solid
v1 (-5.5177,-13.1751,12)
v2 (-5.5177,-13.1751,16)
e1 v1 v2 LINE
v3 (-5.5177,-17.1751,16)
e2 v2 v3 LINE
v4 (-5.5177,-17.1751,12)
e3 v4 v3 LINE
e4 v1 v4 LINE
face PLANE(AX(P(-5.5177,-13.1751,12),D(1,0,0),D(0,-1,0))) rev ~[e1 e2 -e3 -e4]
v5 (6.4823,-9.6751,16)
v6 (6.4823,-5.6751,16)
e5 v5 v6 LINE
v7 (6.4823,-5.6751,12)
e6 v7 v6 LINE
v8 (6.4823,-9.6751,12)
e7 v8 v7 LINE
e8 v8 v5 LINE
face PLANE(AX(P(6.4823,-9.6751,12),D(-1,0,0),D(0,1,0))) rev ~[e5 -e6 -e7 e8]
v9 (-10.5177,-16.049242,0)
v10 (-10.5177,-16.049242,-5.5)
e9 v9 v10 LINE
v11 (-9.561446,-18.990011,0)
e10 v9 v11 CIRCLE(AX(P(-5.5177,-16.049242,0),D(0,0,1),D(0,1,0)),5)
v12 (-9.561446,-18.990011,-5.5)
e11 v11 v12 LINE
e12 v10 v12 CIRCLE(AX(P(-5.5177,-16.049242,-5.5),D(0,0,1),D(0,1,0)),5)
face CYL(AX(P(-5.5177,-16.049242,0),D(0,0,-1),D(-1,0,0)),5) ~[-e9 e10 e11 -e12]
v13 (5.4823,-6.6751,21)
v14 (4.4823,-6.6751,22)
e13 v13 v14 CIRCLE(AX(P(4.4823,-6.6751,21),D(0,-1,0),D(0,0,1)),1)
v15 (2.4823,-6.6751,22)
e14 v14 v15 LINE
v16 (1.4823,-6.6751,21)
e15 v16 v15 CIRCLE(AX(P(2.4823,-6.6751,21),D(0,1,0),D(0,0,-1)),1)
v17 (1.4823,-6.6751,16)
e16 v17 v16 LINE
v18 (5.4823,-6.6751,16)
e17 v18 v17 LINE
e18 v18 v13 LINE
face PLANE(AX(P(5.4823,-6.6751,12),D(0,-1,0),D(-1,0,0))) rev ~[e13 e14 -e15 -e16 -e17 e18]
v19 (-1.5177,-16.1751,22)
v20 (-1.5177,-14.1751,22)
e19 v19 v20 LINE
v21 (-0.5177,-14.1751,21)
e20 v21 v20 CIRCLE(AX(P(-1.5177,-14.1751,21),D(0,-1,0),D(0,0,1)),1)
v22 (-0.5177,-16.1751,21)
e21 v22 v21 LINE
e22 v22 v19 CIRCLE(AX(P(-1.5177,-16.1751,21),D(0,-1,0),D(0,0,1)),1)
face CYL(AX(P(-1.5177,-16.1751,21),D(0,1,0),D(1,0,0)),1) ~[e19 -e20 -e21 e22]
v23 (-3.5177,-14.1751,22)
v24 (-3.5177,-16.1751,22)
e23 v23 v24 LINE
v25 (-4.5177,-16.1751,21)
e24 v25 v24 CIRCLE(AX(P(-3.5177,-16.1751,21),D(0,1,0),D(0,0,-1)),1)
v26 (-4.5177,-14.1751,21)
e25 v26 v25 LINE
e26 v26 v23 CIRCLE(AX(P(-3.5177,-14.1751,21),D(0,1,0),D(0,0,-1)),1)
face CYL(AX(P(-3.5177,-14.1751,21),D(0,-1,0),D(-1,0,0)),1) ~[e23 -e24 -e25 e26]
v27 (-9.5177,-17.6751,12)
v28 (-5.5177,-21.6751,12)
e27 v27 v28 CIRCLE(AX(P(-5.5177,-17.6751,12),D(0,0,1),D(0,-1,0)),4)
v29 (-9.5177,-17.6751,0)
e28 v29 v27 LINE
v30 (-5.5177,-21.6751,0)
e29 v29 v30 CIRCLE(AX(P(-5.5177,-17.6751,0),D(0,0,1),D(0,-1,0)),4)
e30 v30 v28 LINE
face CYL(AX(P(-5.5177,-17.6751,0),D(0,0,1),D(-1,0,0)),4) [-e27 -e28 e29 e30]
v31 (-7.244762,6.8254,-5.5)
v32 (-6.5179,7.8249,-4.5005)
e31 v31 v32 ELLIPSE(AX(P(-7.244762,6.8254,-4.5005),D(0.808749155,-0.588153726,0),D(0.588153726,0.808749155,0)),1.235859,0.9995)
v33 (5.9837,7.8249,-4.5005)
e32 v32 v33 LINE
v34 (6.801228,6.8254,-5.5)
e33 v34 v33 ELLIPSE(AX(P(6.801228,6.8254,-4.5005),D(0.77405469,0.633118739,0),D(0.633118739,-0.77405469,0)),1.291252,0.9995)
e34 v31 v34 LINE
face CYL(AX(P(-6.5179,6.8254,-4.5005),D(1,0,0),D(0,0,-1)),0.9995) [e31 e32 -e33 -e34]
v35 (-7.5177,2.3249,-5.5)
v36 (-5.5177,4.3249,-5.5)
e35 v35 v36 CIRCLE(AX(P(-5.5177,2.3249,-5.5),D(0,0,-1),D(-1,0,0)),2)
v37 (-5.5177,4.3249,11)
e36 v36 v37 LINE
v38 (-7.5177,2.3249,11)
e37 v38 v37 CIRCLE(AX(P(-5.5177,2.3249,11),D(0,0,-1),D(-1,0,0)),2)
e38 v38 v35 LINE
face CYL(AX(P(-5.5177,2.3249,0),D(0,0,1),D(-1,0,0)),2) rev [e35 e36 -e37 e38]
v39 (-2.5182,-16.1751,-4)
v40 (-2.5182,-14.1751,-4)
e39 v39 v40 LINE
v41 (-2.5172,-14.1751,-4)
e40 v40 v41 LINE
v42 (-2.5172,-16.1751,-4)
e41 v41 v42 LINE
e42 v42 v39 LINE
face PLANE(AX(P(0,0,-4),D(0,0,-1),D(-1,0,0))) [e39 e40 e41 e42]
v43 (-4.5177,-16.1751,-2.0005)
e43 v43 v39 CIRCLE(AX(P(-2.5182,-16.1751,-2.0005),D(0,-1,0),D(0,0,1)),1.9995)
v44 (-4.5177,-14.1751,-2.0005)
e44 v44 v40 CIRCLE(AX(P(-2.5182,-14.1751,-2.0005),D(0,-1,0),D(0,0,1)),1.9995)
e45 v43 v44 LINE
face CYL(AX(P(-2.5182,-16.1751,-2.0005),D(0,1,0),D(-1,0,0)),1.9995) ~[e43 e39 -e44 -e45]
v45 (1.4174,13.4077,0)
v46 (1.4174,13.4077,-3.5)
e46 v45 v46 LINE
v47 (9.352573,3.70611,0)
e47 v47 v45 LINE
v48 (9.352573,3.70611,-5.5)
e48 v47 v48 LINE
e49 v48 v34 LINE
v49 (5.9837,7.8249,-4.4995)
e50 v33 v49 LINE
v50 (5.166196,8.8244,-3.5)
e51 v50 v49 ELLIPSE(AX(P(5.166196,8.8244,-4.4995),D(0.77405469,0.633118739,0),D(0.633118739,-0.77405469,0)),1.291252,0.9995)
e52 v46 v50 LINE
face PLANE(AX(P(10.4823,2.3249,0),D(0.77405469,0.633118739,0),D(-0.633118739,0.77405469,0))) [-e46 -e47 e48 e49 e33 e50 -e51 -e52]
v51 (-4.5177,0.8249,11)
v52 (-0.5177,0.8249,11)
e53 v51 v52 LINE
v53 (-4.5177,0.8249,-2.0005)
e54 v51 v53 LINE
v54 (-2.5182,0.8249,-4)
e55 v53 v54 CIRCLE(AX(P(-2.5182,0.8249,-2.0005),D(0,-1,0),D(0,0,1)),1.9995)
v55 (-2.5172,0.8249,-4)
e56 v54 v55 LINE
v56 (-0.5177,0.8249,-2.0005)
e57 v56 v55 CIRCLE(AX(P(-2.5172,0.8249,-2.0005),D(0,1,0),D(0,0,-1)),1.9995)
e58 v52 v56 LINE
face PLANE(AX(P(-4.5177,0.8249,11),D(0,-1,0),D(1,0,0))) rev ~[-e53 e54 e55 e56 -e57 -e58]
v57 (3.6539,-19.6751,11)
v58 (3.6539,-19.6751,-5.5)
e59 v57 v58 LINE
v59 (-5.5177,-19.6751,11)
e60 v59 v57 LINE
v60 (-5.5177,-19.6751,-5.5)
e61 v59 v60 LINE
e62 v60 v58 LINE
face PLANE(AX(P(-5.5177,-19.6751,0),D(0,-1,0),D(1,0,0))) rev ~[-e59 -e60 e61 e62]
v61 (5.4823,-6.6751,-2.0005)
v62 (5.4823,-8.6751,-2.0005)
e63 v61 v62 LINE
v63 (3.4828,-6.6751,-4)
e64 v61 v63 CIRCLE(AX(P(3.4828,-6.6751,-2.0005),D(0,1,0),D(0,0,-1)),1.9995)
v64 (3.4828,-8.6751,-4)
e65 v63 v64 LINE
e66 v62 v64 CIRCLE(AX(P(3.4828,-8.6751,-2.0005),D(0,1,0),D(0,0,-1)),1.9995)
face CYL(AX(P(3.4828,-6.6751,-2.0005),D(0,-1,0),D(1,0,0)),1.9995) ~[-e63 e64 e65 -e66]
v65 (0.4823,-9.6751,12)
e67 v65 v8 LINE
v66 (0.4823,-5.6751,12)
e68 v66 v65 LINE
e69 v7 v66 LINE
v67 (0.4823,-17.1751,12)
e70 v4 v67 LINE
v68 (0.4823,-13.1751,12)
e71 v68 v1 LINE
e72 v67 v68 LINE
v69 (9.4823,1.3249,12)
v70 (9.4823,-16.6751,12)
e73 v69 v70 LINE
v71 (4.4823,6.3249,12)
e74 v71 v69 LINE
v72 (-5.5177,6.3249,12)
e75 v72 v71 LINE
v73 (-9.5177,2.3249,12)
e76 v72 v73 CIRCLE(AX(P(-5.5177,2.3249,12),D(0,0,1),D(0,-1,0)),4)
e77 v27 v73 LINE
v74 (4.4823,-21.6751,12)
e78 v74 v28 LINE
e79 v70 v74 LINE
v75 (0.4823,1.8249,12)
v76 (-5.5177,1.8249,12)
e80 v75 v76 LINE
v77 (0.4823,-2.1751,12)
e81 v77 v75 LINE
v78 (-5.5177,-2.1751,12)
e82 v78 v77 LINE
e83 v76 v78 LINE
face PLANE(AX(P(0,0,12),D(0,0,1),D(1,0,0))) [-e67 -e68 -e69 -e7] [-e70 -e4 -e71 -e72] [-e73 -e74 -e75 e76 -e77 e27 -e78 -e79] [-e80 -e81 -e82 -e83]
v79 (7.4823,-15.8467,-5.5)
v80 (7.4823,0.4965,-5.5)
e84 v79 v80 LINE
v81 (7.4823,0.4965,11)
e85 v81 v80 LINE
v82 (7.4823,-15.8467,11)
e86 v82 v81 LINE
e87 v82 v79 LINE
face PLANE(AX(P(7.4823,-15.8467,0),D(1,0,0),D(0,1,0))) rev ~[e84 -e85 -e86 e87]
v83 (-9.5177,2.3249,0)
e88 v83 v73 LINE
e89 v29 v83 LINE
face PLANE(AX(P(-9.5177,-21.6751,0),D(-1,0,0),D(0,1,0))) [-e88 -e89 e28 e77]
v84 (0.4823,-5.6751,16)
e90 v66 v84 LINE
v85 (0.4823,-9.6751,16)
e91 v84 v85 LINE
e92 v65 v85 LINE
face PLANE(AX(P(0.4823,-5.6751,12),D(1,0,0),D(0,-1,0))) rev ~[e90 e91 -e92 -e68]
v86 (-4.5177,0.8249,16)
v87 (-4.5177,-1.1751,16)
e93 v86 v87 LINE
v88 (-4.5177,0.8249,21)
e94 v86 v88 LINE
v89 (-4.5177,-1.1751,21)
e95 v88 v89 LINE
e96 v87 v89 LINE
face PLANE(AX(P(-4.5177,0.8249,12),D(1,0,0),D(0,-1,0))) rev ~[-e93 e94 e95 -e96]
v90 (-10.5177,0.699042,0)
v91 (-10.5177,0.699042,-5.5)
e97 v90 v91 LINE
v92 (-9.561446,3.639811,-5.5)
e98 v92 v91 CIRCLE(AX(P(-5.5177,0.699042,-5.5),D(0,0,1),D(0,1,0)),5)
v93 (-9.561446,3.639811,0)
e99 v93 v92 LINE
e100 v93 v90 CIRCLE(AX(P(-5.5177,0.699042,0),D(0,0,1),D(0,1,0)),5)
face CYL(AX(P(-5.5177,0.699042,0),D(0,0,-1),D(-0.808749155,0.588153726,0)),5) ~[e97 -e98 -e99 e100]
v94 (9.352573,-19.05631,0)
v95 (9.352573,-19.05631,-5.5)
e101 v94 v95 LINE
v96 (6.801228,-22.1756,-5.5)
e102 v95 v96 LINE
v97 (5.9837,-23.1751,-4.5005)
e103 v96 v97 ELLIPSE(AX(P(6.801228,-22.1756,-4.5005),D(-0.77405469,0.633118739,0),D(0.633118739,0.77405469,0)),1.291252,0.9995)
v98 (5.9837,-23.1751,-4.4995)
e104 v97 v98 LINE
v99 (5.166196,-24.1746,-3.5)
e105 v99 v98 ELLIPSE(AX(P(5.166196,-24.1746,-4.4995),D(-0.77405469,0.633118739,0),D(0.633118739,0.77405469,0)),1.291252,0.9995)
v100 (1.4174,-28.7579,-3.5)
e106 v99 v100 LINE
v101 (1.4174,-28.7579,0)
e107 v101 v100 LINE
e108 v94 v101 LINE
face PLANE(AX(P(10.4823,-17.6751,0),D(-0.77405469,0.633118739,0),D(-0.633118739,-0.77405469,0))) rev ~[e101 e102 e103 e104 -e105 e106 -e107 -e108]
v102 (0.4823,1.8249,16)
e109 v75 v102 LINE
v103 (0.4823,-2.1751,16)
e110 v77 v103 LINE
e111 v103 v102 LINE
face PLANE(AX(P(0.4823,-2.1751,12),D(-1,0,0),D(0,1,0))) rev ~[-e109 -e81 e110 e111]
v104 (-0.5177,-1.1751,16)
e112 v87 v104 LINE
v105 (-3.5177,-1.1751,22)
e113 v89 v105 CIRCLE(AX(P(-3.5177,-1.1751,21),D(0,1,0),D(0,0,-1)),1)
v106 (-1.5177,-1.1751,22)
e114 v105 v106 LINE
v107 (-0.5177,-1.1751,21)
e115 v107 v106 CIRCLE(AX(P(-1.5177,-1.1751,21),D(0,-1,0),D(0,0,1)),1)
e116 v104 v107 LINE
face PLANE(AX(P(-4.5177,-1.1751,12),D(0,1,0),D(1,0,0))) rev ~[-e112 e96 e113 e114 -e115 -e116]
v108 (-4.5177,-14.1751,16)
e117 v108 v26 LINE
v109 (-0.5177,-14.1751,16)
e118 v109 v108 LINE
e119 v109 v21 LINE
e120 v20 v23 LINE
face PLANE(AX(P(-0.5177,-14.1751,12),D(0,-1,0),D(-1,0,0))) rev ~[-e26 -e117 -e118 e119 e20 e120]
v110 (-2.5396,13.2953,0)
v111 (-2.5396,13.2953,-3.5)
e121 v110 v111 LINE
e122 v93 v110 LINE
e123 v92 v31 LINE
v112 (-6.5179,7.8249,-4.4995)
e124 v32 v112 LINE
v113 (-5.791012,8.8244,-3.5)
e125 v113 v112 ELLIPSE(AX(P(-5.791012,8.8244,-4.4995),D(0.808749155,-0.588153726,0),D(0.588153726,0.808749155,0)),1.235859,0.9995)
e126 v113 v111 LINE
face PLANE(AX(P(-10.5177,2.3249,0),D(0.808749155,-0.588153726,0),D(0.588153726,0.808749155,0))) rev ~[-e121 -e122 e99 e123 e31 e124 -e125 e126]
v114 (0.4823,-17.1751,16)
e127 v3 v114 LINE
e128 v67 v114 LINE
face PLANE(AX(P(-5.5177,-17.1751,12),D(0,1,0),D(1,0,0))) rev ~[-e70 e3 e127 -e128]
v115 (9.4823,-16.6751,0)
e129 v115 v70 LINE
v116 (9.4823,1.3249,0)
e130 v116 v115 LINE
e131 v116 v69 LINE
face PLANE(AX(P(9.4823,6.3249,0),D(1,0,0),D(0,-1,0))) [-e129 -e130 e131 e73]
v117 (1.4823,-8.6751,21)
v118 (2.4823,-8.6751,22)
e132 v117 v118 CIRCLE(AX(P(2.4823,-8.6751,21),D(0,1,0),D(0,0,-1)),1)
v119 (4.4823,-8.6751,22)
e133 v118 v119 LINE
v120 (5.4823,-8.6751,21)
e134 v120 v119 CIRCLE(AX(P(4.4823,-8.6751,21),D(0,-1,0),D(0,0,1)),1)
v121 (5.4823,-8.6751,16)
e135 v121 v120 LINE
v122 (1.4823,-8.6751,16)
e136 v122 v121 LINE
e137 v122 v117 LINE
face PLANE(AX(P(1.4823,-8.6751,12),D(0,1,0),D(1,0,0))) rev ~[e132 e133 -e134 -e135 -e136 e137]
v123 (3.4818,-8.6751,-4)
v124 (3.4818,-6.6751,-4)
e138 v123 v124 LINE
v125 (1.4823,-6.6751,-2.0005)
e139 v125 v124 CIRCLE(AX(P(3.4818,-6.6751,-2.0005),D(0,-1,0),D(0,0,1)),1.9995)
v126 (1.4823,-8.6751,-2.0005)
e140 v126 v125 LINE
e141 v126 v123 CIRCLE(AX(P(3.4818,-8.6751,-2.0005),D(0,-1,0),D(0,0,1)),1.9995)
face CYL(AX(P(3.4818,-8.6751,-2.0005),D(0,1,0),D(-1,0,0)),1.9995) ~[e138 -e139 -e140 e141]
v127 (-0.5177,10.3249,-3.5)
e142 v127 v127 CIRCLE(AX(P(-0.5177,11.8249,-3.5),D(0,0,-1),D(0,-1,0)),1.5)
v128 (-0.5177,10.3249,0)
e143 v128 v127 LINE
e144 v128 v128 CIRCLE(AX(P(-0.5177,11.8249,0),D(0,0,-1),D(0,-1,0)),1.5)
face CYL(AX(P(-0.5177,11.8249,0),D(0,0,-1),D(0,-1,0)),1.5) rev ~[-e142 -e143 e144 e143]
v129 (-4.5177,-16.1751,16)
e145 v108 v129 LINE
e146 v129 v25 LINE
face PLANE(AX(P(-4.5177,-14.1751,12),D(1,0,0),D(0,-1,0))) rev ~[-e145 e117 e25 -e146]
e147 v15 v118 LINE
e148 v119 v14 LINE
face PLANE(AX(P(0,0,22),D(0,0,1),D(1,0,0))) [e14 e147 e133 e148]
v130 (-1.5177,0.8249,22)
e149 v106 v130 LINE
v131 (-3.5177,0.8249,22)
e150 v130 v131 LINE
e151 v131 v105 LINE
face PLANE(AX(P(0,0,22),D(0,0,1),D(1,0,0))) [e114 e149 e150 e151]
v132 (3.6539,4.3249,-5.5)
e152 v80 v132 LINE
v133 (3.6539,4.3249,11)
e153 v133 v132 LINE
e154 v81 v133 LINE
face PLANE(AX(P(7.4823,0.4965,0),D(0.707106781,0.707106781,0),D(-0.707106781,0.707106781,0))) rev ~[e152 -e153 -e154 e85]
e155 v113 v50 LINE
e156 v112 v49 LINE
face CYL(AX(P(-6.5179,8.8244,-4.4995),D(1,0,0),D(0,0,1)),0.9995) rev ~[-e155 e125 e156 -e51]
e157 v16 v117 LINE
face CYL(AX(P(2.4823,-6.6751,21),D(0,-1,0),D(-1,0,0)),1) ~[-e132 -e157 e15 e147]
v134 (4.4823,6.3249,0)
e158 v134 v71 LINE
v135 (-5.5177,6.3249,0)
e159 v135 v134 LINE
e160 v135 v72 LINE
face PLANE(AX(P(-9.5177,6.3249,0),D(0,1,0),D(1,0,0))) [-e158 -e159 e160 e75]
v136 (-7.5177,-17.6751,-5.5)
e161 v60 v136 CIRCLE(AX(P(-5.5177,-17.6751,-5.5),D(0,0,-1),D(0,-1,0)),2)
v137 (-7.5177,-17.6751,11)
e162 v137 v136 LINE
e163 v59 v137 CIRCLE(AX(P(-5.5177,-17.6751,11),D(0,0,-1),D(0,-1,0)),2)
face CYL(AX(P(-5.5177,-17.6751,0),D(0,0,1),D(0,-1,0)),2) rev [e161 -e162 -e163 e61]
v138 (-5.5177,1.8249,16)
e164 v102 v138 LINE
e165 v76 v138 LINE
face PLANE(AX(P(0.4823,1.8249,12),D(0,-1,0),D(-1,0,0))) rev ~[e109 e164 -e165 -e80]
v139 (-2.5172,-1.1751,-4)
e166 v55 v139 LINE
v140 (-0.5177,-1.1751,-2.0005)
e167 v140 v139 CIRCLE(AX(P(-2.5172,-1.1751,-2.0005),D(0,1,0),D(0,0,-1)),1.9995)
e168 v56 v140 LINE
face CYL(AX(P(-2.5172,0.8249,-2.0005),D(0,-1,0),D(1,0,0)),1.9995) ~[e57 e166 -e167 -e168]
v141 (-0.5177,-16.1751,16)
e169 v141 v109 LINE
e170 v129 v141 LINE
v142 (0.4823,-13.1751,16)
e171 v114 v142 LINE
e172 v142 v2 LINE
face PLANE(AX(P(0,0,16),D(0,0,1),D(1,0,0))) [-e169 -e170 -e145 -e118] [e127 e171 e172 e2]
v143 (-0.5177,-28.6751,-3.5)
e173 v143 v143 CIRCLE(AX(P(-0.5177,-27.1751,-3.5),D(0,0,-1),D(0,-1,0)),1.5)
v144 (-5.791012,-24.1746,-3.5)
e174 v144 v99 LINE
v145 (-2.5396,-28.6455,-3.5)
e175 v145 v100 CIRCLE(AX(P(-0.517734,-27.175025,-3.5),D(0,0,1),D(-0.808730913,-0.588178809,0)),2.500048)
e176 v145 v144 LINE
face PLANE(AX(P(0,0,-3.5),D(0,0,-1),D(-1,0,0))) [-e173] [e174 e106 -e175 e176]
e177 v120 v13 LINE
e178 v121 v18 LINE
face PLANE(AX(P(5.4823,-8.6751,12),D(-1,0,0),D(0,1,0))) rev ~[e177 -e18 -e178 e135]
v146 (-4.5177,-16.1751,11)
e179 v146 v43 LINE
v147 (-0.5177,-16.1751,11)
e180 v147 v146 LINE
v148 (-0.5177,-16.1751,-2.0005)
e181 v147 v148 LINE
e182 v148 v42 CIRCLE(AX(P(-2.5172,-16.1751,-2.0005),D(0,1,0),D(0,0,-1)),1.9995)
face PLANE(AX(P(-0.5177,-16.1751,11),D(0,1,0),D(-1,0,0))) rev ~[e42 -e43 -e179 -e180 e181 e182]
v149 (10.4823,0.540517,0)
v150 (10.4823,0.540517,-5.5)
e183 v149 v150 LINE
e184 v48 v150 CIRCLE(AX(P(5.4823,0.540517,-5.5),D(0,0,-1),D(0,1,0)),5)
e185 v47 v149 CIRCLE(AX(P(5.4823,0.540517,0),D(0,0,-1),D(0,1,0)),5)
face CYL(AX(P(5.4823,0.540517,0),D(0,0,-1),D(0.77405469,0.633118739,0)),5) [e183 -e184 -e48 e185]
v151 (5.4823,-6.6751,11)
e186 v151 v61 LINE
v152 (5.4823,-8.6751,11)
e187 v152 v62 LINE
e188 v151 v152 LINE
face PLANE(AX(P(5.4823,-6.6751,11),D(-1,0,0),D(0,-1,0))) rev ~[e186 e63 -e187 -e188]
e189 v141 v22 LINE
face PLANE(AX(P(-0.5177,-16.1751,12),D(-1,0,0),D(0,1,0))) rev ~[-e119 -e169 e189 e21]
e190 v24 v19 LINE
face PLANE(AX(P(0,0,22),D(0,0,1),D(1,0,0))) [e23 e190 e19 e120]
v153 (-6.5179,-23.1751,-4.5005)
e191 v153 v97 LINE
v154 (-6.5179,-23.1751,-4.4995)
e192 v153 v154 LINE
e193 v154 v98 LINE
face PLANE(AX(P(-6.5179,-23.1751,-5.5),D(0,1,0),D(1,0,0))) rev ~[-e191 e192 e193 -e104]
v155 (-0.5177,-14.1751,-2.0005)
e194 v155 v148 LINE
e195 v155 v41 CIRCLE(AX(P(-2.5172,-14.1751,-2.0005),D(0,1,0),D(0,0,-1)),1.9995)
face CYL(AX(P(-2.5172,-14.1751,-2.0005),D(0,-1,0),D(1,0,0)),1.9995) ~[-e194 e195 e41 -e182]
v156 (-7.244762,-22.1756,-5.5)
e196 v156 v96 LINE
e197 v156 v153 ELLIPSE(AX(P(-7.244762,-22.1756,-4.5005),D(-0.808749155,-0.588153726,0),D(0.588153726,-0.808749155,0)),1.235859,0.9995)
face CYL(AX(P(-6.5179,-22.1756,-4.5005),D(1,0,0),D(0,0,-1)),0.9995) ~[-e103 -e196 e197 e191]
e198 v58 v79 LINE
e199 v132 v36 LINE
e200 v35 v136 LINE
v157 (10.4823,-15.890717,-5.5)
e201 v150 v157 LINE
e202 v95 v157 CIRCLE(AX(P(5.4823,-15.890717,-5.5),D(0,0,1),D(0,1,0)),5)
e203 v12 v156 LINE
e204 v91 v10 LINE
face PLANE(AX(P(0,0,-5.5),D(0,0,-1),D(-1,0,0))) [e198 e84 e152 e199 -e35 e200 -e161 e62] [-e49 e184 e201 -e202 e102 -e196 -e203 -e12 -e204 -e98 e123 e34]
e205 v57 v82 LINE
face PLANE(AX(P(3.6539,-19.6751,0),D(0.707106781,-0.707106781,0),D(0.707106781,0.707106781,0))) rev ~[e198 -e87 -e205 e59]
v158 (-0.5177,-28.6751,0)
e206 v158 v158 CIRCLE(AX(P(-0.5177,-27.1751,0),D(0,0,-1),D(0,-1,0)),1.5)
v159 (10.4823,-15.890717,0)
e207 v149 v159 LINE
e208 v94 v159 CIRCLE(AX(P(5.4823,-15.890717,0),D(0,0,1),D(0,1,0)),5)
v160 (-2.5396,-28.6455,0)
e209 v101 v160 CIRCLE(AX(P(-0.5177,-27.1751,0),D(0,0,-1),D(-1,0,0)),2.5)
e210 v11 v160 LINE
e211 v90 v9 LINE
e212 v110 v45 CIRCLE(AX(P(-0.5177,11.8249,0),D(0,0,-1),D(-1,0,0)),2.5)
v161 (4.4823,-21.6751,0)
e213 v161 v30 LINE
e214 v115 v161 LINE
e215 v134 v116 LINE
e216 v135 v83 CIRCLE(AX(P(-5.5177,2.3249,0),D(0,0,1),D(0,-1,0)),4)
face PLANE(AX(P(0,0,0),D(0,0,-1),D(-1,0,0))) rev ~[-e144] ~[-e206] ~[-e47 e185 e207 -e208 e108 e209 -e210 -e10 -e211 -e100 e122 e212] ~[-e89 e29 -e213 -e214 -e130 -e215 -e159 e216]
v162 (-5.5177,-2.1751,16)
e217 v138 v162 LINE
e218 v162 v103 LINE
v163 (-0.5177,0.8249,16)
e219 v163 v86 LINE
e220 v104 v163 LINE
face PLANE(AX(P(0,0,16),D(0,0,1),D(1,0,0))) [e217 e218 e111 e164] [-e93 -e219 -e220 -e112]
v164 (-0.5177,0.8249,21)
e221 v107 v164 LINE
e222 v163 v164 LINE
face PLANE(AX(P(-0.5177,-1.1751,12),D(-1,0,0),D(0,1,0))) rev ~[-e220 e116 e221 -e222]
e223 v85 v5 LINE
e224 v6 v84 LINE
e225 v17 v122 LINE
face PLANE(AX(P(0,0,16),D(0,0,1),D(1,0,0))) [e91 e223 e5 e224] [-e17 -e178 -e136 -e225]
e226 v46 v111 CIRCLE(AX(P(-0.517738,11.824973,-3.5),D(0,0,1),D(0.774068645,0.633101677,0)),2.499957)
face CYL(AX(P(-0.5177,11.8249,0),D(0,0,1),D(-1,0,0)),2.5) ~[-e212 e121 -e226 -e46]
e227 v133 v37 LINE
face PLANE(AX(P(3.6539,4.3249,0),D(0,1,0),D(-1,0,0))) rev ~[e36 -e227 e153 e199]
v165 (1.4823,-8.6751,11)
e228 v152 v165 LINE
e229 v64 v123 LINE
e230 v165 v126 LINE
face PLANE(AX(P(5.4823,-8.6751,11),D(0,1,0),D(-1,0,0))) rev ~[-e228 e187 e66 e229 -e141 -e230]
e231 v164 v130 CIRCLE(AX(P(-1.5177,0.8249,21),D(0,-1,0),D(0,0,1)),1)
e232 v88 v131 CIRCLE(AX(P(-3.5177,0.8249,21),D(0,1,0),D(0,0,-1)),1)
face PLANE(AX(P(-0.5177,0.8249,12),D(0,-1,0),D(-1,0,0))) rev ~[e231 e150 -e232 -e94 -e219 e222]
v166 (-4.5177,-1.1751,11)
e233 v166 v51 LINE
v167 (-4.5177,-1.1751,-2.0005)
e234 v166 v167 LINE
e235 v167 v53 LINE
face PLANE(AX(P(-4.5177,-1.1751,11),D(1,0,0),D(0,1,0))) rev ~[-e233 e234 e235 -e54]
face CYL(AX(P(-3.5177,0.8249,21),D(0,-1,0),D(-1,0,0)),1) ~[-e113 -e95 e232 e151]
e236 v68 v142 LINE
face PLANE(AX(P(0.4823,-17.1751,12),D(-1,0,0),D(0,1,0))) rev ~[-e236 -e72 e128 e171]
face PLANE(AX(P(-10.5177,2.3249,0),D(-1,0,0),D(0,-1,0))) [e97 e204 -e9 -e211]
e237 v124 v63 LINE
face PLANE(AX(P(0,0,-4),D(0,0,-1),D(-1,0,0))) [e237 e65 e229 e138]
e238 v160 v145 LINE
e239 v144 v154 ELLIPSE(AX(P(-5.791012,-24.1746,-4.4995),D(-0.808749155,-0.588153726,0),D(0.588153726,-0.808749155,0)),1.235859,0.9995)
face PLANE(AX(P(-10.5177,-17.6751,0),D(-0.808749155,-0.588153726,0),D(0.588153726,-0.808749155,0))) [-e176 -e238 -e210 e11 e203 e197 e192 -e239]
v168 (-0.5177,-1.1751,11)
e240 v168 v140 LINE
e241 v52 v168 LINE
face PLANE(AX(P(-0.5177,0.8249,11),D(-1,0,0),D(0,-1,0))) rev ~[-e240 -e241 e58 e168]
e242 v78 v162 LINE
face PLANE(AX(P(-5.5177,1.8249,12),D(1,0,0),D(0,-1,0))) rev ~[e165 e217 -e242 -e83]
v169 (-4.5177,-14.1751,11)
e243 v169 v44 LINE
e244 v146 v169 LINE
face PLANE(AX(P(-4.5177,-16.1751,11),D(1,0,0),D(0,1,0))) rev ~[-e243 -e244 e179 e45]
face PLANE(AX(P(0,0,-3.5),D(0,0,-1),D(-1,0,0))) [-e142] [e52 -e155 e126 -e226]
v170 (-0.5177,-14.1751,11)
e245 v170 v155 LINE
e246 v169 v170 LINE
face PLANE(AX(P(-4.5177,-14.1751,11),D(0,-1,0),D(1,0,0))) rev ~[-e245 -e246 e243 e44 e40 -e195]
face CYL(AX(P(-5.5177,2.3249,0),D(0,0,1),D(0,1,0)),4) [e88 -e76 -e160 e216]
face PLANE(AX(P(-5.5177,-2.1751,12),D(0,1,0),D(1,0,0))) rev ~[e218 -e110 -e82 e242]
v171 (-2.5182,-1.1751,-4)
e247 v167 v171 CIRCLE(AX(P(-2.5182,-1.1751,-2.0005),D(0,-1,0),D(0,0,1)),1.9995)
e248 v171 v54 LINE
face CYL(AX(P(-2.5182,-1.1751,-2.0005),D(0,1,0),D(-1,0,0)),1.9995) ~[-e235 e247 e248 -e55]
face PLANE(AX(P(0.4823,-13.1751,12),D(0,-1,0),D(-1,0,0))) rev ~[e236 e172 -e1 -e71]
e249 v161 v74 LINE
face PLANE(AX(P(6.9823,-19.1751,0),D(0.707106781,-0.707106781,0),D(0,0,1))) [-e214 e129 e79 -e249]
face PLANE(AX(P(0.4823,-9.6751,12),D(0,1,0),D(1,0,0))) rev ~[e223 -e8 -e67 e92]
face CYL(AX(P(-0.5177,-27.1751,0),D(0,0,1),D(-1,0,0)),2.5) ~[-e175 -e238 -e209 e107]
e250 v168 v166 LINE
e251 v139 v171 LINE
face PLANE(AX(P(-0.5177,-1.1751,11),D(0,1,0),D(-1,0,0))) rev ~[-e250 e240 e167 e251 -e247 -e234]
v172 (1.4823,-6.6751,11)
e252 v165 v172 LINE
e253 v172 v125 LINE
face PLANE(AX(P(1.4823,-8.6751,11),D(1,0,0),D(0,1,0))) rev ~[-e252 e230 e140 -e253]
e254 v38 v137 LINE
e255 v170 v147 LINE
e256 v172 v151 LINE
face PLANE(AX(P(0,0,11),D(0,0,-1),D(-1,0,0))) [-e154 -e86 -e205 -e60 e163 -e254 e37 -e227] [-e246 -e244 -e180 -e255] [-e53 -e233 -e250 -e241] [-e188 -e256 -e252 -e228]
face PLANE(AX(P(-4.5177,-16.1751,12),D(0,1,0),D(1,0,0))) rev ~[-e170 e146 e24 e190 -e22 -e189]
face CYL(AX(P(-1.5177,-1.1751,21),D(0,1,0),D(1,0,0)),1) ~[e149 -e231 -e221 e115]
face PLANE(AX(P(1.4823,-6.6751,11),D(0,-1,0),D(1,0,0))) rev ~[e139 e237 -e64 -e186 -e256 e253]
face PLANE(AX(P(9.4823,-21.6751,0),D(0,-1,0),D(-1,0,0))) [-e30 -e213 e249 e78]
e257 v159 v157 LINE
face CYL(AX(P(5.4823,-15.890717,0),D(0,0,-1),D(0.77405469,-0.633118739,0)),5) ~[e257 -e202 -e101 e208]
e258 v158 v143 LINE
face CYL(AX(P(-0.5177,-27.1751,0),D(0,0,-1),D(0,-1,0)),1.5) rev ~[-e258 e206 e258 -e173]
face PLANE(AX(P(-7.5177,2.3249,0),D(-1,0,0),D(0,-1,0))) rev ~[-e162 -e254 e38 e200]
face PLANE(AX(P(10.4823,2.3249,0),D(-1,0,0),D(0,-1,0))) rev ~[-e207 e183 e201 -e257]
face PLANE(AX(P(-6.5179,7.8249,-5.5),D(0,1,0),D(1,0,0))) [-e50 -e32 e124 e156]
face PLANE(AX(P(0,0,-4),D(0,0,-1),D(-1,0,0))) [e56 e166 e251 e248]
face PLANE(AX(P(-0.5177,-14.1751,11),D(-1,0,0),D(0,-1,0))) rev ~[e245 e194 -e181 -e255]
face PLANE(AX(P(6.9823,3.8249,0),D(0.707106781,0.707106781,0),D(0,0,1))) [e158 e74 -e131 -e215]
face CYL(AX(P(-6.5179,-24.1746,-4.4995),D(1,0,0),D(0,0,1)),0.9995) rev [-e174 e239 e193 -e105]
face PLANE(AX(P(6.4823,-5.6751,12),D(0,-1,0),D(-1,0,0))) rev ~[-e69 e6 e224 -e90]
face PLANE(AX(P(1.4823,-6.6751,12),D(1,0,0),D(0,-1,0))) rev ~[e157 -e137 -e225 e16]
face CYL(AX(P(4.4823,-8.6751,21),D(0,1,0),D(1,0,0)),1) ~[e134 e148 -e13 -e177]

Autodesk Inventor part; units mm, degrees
ref_plane "YZ Plane" through (0, 0, 0) normal (1, 0, 0) x (0, 1, 0)
ref_plane "XZ Plane" through (0, 0, 0) normal (0, 1, 0) x (-1, 0, 0)
ref_plane "XY Plane" through (0, 0, 0) normal (0, 0, 1) x (1, 0, 0)
sketch "Szkic1" plane through (0, 0, 0) normal (0, 0, 1) x (1, 0, 0)
  line L0 (-9.5177, 6.3249) -> (9.4823, 6.3249)
  line L1 (9.4823, 6.3249) -> (9.4823, -21.6751)
  line L2 (9.4823, -21.6751) -> (-9.5177, -21.6751)
  line L3 (-9.5177, -21.6751) -> (-9.5177, 6.3249)
  point P0 (0, 0)
  dimension "d0" = 19
  dimension "d1" = 28
extrude "Wyciągnięcie proste1" add sketch "Szkic1" along normal blind 12
chamfer "Faza1" distance 5 angle 45 2 edges at (9.4823, 6.3249, 6) (9.4823, -21.6751, 6)
fillet "Zaokrąglenie1" radius 4 2 edges at (-9.5177, 6.3249, 6) (-9.5177, -21.6751, 6)
sketch "Szkic2" plane through (0, 0, 0) normal (0, 0, -1) x (-1, 0, 0)
  line L0 (-4.4823, -21.6751) -> (5.5177, -21.6751) projected
  line L1 (5.5177, 6.3249) -> (-4.4823, 6.3249) projected
  arc A0 (5.5177, -21.6751) -> (9.5177, -17.6751) centre (5.5177, -17.6751) ccw projected
  line L2 (9.5177, -17.6751) -> (9.5177, 2.3249) projected
  arc A1 (9.5177, 2.3249) -> (5.5177, 6.3249) centre (5.5177, 2.3249) ccw projected
  line L3 (5.5177, 6.3249) -> (-4.4823, 6.3249) projected
  line L4 (-9.4823, 1.3249) -> (-4.4823, 6.3249) projected
  line L5 (-9.4823, 1.3249) -> (-9.4823, -16.6751) projected
  line L6 (-4.4823, -21.6751) -> (-9.4823, -16.6751) projected
  line L7 (-4.4823, -21.6751) -> (5.5177, -21.6751) projected
  line L8 (7.5177, 2.3249) -> (7.5177, -17.6751)
  arc A2 (5.5177, -19.6751) -> (7.5177, -17.6751) centre (5.5177, -17.6751) ccw
  line L9 (5.5177, -19.6751) -> (-3.6539, -19.6751)
  line L10 (-3.6539, -19.6751) -> (-7.4823, -15.8467)
  line L11 (-7.4823, -15.8467) -> (-7.4823, 0.4965)
  line L12 (-7.4823, 0.4965) -> (-3.6539, 4.3249)
  line L13 (-3.6539, 4.3249) -> (5.5177, 4.3249)
  arc A3 (7.5177, 2.3249) -> (5.5177, 4.3249) centre (5.5177, 2.3249) ccw
  line L14 (10.5177, 2.3249) -> (10.5177, -17.6751)
  line L15 (-10.4823, 2.3249) -> (-10.4823, -17.6751)
  circle A4 centre (0.5177, 11.8249) radius 2.5
  circle A5 centre (0.5177, -27.1751) radius 2.5
  line L16 (-10.4823, -17.6751) -> (-1.4174, -28.7579)
  line L17 (10.5177, 2.3249) -> (2.5396, 13.2953)
  line L18 (10.5177, -17.6751) -> (2.5396, -28.6455)
  line L19 (-10.4823, 2.3249) -> (-1.4174, 13.4077)
  point P0 (0, 0)
  dimension "d8" = 28
  dimension "d9" = 2
  dimension "d10" = 20
  dimension "d11" = 1
  dimension "d12" = 4
  dimension "d13" = 20
  dimension "d14" = 1
  dimension "d15" = 4
  dimension "d16" = 10
  dimension "d17" = 10
  dimension "d18" = 39
  dimension "d19" = 5.5
  dimension "d20" = 5
  dimension "d21" = 5
extrude "Wyciągnięcie proste2" add sketch "Szkic2" along normal blind 5.5 contours L6 L5 L4 L1 A1 L2 A0 L0 | L14 L18 A5 L16 L15 L19 A4 L17 | A4 | A5
extrude "Wyciągnięcie proste3" cut sketch "Szkic2" against normal blind 11 contours L8 A2 L9 L10 L11 L12 L13 A3
hole "Otwór1" at (-0.5177, 11.8249, 0) at (-0.5177, -27.1751, 0) direction (0, 0, -1) diameter 3 end through all
sketch "Szkic3" plane through (0, 0, -5.5) normal (0, 0, -1) x (-1, 0, 0)
  circle A0 centre (0.5177, 11.8249) radius 1.5 projected
  circle A1 centre (0.5177, -27.1751) radius 1.5 projected
  arc A2 (5.5177, -19.6751) -> (7.5177, -17.6751) centre (5.5177, -17.6751) ccw projected
  line L0 (5.5177, -19.6751) -> (-3.6539, -19.6751) projected
  line L1 (-3.6539, -19.6751) -> (-7.4823, -15.8467) projected
  line L2 (-7.4823, -15.8467) -> (-7.4823, 0.4965) projected
  line L3 (-7.4823, 0.4965) -> (-3.6539, 4.3249) projected
  line L4 (-3.6539, 4.3249) -> (5.5177, 4.3249) projected
  arc A3 (7.5177, 2.3249) -> (5.5177, 4.3249) centre (5.5177, 2.3249) ccw projected
  line L5 (7.5177, 2.3249) -> (7.5177, -17.6751) projected
  arc A4 (-1.4174, -28.7579) -> (2.5396, -28.6455) centre (0.5177, -27.1751) ccw projected
  line L6 (2.5396, -28.6455) -> (10.5177, -17.6751) projected
  line L7 (10.5177, -17.6751) -> (10.5177, 2.3249) projected
  line L8 (10.5177, 2.3249) -> (2.5396, 13.2953) projected
  arc A5 (2.5396, 13.2953) -> (-1.4174, 13.4077) centre (0.5177, 11.8249) ccw projected
  line L9 (-1.4174, 13.4077) -> (-10.4823, 2.3249) projected
  line L10 (-10.4823, 2.3249) -> (-10.4823, -17.6751) projected
  line L11 (-10.4823, -17.6751) -> (-1.4174, -28.7579) projected
  line L12 (6.5179, 7.8249) -> (-5.9837, 7.8249)
  line L13 (6.5179, -23.1751) -> (-5.9837, -23.1751)
  point P0 (0, 0)
  dimension "d33" = 31
  dimension "d34" = 39
  dimension "d35" = 4
extrude "Wyciągnięcie proste4" cut sketch "Szkic3" against normal blind 2 contours L11 L13 L6 A4 | L9 A5 L8 L12
fillet "Zaokrąglenie2" radius 1 4 edges at (-0.2671, 7.8249, -5.5) (-0.2671, 7.8249, -3.5) (-0.2671, -23.1751, -3.5) (-0.2671, -23.1751, -5.5)
fillet "Zaokrąglenie3" radius 5 4 edges at (-10.5177, 2.3249, -2.75) (-10.5177, -17.6751, -2.75) (10.4823, 2.3249, -2.75) (10.4823, -17.6751, -2.75)
sketch "Szkic4" plane through (0, 0, 11) normal (0, 0, -1) x (-1, 0, 0)
  line L0 (7.5177, 2.3249) -> (7.5177, -17.6751) projected
  arc A0 (7.5177, 2.3249) -> (5.5177, 4.3249) centre (5.5177, 2.3249) ccw projected
  line L1 (-3.6539, 4.3249) -> (5.5177, 4.3249) projected
  line L2 (-7.4823, 0.4965) -> (-3.6539, 4.3249) projected
  line L3 (-7.4823, -15.8467) -> (-7.4823, 0.4965) projected
  line L4 (-3.6539, -19.6751) -> (-7.4823, -15.8467) projected
  line L5 (5.5177, -19.6751) -> (-3.6539, -19.6751) projected
  arc A1 (5.5177, -19.6751) -> (7.5177, -17.6751) centre (5.5177, -17.6751) ccw projected
  line L6 (4.5177, 0.8249) -> (0.5177, 0.8249)
  line L7 (0.5177, 0.8249) -> (0.5177, -1.1751)
  line L8 (0.5177, -1.1751) -> (4.5177, -1.1751)
  line L9 (4.5177, -1.1751) -> (4.5177, 0.8249)
  line L10 (4.5177, -14.1751) -> (0.5177, -14.1751)
  line L11 (0.5177, -14.1751) -> (0.5177, -16.1751)
  line L12 (0.5177, -16.1751) -> (4.5177, -16.1751)
  line L13 (4.5177, -16.1751) -> (4.5177, -14.1751)
  line L14 (-1.4823, -6.6751) -> (-5.4823, -6.6751)
  line L15 (-5.4823, -6.6751) -> (-5.4823, -8.6751)
  line L16 (-5.4823, -8.6751) -> (-1.4823, -8.6751)
  line L17 (-1.4823, -8.6751) -> (-1.4823, -6.6751)
  point P0 (0, 0)
  dimension "d40" = 4
  dimension "d41" = 2
  dimension "d42" = 4
  dimension "d43" = 2
  dimension "d44" = 4
  dimension "d45" = 2
  dimension "d46" = 13
  dimension "d47" = 24
  dimension "d48" = 3.5
  dimension "d49" = 5.5
  dimension "d50" = 2
  dimension "d51" = 3
  dimension "d52" = 3
extrude "Wyciągnięcie proste5" add sketch "Szkic4" along normal blind 15 contours L9 L8 L7 L6 | L13 L12 L11 L10 | L17 L16 L15 L14
fillet "Zaokrąglenie4" radius 2 6 edges at (1.4823, -7.6751, -4) (5.4823, -7.6751, -4) (-0.5177, -0.1751, -4) (-4.5177, -0.1751, -4) (-0.5177, -15.1751, -4) (-4.5177, -15.1751, -4)
sketch "Szkic5" plane through (0, 0, 12) normal (0, 0, 1) x (1, 0, 0)
  arc A0 (-9.5177, -17.6751) -> (-5.5177, -21.6751) centre (-5.5177, -17.6751) ccw projected
  line L0 (-5.5177, -21.6751) -> (4.4823, -21.6751) projected
  line L1 (9.4823, -16.6751) -> (4.4823, -21.6751) projected
  line L2 (9.4823, -16.6751) -> (9.4823, 1.3249) projected
  line L3 (4.4823, 6.3249) -> (9.4823, 1.3249) projected
  line L4 (4.4823, 6.3249) -> (-5.5177, 6.3249) projected
  arc A1 (-5.5177, 6.3249) -> (-9.5177, 2.3249) centre (-5.5177, 2.3249) ccw projected
  line L5 (-9.5177, 2.3249) -> (-9.5177, -17.6751) projected
  line L6 (-0.5177, -14.1751) -> (-4.5177, -14.1751) projected
  line L7 (-4.5177, -16.1751) -> (-0.5177, -16.1751) projected
  line L8 (-4.5177, -14.1751) -> (-4.5177, -16.1751) projected
  line L9 (-0.5177, -16.1751) -> (-0.5177, -14.1751) projected
  line L10 (-4.5177, -1.1751) -> (-0.5177, -1.1751) projected
  line L11 (-0.5177, 0.8249) -> (-4.5177, 0.8249) projected
  line L12 (-4.5177, 0.8249) -> (-4.5177, -1.1751) projected
  line L13 (-0.5177, -1.1751) -> (-0.5177, 0.8249) projected
  line L14 (1.4823, -8.6751) -> (5.4823, -8.6751) projected
  line L15 (5.4823, -6.6751) -> (1.4823, -6.6751) projected
  line L16 (5.4823, -8.6751) -> (5.4823, -6.6751) projected
  line L17 (1.4823, -6.6751) -> (1.4823, -8.6751) projected
  line L18 (-5.5177, -17.1751) -> (0.4823, -17.1751)
  line L19 (0.4823, -17.1751) -> (0.4823, -13.1751)
  line L20 (0.4823, -13.1751) -> (-5.5177, -13.1751)
  line L21 (-5.5177, -13.1751) -> (-5.5177, -17.1751)
  line L22 (0.4823, -9.6751) -> (6.4823, -9.6751)
  line L23 (6.4823, -9.6751) -> (6.4823, -5.6751)
  line L24 (6.4823, -5.6751) -> (0.4823, -5.6751)
  line L25 (0.4823, -5.6751) -> (0.4823, -9.6751)
  line L26 (0.4823, 1.8249) -> (-5.5177, 1.8249)
  line L27 (-5.5177, 1.8249) -> (-5.5177, -2.1751)
  line L28 (-5.5177, -2.1751) -> (0.4823, -2.1751)
  line L29 (0.4823, -2.1751) -> (0.4823, 1.8249)
  point P0 (0, 0)
  dimension "d56" = 1
  dimension "d57" = 1
  dimension "d58" = 1
extrude "Wyciągnięcie proste6" add sketch "Szkic5" along normal blind 10 contours L9 L7 L8 L6 | L12 L11 L13 L10 | L17 L15 L16 L14
extrude "Wyciągnięcie proste7" add sketch "Szkic5" along normal blind 4 contours L21 L20 L19 L18 | L25 L24 L23 L22 | L29 L28 L27 L26
fillet "Zaokrąglenie5" radius 1 6 edges at (-4.5177, -15.1751, 22) (-0.5177, -15.1751, 22) (-4.5177, -0.1751, 22) (-0.5177, -0.1751, 22) (1.4823, -7.6751, 22) (5.4823, -7.6751, 22)
equation "\"d12\" = -0.5 * d10 + 0.5 * d8"
equation "\"d14\" = d11"
equation "\"d15\" = d12"
equation "\"d19\" = -0.5 * d8 + 0.5 * d18"
equation "\"d35\" = -0.5 * d33 + 0.5 * d34"
properties part number "COTS_GENERIC_AC_Power_Socket_C14"
